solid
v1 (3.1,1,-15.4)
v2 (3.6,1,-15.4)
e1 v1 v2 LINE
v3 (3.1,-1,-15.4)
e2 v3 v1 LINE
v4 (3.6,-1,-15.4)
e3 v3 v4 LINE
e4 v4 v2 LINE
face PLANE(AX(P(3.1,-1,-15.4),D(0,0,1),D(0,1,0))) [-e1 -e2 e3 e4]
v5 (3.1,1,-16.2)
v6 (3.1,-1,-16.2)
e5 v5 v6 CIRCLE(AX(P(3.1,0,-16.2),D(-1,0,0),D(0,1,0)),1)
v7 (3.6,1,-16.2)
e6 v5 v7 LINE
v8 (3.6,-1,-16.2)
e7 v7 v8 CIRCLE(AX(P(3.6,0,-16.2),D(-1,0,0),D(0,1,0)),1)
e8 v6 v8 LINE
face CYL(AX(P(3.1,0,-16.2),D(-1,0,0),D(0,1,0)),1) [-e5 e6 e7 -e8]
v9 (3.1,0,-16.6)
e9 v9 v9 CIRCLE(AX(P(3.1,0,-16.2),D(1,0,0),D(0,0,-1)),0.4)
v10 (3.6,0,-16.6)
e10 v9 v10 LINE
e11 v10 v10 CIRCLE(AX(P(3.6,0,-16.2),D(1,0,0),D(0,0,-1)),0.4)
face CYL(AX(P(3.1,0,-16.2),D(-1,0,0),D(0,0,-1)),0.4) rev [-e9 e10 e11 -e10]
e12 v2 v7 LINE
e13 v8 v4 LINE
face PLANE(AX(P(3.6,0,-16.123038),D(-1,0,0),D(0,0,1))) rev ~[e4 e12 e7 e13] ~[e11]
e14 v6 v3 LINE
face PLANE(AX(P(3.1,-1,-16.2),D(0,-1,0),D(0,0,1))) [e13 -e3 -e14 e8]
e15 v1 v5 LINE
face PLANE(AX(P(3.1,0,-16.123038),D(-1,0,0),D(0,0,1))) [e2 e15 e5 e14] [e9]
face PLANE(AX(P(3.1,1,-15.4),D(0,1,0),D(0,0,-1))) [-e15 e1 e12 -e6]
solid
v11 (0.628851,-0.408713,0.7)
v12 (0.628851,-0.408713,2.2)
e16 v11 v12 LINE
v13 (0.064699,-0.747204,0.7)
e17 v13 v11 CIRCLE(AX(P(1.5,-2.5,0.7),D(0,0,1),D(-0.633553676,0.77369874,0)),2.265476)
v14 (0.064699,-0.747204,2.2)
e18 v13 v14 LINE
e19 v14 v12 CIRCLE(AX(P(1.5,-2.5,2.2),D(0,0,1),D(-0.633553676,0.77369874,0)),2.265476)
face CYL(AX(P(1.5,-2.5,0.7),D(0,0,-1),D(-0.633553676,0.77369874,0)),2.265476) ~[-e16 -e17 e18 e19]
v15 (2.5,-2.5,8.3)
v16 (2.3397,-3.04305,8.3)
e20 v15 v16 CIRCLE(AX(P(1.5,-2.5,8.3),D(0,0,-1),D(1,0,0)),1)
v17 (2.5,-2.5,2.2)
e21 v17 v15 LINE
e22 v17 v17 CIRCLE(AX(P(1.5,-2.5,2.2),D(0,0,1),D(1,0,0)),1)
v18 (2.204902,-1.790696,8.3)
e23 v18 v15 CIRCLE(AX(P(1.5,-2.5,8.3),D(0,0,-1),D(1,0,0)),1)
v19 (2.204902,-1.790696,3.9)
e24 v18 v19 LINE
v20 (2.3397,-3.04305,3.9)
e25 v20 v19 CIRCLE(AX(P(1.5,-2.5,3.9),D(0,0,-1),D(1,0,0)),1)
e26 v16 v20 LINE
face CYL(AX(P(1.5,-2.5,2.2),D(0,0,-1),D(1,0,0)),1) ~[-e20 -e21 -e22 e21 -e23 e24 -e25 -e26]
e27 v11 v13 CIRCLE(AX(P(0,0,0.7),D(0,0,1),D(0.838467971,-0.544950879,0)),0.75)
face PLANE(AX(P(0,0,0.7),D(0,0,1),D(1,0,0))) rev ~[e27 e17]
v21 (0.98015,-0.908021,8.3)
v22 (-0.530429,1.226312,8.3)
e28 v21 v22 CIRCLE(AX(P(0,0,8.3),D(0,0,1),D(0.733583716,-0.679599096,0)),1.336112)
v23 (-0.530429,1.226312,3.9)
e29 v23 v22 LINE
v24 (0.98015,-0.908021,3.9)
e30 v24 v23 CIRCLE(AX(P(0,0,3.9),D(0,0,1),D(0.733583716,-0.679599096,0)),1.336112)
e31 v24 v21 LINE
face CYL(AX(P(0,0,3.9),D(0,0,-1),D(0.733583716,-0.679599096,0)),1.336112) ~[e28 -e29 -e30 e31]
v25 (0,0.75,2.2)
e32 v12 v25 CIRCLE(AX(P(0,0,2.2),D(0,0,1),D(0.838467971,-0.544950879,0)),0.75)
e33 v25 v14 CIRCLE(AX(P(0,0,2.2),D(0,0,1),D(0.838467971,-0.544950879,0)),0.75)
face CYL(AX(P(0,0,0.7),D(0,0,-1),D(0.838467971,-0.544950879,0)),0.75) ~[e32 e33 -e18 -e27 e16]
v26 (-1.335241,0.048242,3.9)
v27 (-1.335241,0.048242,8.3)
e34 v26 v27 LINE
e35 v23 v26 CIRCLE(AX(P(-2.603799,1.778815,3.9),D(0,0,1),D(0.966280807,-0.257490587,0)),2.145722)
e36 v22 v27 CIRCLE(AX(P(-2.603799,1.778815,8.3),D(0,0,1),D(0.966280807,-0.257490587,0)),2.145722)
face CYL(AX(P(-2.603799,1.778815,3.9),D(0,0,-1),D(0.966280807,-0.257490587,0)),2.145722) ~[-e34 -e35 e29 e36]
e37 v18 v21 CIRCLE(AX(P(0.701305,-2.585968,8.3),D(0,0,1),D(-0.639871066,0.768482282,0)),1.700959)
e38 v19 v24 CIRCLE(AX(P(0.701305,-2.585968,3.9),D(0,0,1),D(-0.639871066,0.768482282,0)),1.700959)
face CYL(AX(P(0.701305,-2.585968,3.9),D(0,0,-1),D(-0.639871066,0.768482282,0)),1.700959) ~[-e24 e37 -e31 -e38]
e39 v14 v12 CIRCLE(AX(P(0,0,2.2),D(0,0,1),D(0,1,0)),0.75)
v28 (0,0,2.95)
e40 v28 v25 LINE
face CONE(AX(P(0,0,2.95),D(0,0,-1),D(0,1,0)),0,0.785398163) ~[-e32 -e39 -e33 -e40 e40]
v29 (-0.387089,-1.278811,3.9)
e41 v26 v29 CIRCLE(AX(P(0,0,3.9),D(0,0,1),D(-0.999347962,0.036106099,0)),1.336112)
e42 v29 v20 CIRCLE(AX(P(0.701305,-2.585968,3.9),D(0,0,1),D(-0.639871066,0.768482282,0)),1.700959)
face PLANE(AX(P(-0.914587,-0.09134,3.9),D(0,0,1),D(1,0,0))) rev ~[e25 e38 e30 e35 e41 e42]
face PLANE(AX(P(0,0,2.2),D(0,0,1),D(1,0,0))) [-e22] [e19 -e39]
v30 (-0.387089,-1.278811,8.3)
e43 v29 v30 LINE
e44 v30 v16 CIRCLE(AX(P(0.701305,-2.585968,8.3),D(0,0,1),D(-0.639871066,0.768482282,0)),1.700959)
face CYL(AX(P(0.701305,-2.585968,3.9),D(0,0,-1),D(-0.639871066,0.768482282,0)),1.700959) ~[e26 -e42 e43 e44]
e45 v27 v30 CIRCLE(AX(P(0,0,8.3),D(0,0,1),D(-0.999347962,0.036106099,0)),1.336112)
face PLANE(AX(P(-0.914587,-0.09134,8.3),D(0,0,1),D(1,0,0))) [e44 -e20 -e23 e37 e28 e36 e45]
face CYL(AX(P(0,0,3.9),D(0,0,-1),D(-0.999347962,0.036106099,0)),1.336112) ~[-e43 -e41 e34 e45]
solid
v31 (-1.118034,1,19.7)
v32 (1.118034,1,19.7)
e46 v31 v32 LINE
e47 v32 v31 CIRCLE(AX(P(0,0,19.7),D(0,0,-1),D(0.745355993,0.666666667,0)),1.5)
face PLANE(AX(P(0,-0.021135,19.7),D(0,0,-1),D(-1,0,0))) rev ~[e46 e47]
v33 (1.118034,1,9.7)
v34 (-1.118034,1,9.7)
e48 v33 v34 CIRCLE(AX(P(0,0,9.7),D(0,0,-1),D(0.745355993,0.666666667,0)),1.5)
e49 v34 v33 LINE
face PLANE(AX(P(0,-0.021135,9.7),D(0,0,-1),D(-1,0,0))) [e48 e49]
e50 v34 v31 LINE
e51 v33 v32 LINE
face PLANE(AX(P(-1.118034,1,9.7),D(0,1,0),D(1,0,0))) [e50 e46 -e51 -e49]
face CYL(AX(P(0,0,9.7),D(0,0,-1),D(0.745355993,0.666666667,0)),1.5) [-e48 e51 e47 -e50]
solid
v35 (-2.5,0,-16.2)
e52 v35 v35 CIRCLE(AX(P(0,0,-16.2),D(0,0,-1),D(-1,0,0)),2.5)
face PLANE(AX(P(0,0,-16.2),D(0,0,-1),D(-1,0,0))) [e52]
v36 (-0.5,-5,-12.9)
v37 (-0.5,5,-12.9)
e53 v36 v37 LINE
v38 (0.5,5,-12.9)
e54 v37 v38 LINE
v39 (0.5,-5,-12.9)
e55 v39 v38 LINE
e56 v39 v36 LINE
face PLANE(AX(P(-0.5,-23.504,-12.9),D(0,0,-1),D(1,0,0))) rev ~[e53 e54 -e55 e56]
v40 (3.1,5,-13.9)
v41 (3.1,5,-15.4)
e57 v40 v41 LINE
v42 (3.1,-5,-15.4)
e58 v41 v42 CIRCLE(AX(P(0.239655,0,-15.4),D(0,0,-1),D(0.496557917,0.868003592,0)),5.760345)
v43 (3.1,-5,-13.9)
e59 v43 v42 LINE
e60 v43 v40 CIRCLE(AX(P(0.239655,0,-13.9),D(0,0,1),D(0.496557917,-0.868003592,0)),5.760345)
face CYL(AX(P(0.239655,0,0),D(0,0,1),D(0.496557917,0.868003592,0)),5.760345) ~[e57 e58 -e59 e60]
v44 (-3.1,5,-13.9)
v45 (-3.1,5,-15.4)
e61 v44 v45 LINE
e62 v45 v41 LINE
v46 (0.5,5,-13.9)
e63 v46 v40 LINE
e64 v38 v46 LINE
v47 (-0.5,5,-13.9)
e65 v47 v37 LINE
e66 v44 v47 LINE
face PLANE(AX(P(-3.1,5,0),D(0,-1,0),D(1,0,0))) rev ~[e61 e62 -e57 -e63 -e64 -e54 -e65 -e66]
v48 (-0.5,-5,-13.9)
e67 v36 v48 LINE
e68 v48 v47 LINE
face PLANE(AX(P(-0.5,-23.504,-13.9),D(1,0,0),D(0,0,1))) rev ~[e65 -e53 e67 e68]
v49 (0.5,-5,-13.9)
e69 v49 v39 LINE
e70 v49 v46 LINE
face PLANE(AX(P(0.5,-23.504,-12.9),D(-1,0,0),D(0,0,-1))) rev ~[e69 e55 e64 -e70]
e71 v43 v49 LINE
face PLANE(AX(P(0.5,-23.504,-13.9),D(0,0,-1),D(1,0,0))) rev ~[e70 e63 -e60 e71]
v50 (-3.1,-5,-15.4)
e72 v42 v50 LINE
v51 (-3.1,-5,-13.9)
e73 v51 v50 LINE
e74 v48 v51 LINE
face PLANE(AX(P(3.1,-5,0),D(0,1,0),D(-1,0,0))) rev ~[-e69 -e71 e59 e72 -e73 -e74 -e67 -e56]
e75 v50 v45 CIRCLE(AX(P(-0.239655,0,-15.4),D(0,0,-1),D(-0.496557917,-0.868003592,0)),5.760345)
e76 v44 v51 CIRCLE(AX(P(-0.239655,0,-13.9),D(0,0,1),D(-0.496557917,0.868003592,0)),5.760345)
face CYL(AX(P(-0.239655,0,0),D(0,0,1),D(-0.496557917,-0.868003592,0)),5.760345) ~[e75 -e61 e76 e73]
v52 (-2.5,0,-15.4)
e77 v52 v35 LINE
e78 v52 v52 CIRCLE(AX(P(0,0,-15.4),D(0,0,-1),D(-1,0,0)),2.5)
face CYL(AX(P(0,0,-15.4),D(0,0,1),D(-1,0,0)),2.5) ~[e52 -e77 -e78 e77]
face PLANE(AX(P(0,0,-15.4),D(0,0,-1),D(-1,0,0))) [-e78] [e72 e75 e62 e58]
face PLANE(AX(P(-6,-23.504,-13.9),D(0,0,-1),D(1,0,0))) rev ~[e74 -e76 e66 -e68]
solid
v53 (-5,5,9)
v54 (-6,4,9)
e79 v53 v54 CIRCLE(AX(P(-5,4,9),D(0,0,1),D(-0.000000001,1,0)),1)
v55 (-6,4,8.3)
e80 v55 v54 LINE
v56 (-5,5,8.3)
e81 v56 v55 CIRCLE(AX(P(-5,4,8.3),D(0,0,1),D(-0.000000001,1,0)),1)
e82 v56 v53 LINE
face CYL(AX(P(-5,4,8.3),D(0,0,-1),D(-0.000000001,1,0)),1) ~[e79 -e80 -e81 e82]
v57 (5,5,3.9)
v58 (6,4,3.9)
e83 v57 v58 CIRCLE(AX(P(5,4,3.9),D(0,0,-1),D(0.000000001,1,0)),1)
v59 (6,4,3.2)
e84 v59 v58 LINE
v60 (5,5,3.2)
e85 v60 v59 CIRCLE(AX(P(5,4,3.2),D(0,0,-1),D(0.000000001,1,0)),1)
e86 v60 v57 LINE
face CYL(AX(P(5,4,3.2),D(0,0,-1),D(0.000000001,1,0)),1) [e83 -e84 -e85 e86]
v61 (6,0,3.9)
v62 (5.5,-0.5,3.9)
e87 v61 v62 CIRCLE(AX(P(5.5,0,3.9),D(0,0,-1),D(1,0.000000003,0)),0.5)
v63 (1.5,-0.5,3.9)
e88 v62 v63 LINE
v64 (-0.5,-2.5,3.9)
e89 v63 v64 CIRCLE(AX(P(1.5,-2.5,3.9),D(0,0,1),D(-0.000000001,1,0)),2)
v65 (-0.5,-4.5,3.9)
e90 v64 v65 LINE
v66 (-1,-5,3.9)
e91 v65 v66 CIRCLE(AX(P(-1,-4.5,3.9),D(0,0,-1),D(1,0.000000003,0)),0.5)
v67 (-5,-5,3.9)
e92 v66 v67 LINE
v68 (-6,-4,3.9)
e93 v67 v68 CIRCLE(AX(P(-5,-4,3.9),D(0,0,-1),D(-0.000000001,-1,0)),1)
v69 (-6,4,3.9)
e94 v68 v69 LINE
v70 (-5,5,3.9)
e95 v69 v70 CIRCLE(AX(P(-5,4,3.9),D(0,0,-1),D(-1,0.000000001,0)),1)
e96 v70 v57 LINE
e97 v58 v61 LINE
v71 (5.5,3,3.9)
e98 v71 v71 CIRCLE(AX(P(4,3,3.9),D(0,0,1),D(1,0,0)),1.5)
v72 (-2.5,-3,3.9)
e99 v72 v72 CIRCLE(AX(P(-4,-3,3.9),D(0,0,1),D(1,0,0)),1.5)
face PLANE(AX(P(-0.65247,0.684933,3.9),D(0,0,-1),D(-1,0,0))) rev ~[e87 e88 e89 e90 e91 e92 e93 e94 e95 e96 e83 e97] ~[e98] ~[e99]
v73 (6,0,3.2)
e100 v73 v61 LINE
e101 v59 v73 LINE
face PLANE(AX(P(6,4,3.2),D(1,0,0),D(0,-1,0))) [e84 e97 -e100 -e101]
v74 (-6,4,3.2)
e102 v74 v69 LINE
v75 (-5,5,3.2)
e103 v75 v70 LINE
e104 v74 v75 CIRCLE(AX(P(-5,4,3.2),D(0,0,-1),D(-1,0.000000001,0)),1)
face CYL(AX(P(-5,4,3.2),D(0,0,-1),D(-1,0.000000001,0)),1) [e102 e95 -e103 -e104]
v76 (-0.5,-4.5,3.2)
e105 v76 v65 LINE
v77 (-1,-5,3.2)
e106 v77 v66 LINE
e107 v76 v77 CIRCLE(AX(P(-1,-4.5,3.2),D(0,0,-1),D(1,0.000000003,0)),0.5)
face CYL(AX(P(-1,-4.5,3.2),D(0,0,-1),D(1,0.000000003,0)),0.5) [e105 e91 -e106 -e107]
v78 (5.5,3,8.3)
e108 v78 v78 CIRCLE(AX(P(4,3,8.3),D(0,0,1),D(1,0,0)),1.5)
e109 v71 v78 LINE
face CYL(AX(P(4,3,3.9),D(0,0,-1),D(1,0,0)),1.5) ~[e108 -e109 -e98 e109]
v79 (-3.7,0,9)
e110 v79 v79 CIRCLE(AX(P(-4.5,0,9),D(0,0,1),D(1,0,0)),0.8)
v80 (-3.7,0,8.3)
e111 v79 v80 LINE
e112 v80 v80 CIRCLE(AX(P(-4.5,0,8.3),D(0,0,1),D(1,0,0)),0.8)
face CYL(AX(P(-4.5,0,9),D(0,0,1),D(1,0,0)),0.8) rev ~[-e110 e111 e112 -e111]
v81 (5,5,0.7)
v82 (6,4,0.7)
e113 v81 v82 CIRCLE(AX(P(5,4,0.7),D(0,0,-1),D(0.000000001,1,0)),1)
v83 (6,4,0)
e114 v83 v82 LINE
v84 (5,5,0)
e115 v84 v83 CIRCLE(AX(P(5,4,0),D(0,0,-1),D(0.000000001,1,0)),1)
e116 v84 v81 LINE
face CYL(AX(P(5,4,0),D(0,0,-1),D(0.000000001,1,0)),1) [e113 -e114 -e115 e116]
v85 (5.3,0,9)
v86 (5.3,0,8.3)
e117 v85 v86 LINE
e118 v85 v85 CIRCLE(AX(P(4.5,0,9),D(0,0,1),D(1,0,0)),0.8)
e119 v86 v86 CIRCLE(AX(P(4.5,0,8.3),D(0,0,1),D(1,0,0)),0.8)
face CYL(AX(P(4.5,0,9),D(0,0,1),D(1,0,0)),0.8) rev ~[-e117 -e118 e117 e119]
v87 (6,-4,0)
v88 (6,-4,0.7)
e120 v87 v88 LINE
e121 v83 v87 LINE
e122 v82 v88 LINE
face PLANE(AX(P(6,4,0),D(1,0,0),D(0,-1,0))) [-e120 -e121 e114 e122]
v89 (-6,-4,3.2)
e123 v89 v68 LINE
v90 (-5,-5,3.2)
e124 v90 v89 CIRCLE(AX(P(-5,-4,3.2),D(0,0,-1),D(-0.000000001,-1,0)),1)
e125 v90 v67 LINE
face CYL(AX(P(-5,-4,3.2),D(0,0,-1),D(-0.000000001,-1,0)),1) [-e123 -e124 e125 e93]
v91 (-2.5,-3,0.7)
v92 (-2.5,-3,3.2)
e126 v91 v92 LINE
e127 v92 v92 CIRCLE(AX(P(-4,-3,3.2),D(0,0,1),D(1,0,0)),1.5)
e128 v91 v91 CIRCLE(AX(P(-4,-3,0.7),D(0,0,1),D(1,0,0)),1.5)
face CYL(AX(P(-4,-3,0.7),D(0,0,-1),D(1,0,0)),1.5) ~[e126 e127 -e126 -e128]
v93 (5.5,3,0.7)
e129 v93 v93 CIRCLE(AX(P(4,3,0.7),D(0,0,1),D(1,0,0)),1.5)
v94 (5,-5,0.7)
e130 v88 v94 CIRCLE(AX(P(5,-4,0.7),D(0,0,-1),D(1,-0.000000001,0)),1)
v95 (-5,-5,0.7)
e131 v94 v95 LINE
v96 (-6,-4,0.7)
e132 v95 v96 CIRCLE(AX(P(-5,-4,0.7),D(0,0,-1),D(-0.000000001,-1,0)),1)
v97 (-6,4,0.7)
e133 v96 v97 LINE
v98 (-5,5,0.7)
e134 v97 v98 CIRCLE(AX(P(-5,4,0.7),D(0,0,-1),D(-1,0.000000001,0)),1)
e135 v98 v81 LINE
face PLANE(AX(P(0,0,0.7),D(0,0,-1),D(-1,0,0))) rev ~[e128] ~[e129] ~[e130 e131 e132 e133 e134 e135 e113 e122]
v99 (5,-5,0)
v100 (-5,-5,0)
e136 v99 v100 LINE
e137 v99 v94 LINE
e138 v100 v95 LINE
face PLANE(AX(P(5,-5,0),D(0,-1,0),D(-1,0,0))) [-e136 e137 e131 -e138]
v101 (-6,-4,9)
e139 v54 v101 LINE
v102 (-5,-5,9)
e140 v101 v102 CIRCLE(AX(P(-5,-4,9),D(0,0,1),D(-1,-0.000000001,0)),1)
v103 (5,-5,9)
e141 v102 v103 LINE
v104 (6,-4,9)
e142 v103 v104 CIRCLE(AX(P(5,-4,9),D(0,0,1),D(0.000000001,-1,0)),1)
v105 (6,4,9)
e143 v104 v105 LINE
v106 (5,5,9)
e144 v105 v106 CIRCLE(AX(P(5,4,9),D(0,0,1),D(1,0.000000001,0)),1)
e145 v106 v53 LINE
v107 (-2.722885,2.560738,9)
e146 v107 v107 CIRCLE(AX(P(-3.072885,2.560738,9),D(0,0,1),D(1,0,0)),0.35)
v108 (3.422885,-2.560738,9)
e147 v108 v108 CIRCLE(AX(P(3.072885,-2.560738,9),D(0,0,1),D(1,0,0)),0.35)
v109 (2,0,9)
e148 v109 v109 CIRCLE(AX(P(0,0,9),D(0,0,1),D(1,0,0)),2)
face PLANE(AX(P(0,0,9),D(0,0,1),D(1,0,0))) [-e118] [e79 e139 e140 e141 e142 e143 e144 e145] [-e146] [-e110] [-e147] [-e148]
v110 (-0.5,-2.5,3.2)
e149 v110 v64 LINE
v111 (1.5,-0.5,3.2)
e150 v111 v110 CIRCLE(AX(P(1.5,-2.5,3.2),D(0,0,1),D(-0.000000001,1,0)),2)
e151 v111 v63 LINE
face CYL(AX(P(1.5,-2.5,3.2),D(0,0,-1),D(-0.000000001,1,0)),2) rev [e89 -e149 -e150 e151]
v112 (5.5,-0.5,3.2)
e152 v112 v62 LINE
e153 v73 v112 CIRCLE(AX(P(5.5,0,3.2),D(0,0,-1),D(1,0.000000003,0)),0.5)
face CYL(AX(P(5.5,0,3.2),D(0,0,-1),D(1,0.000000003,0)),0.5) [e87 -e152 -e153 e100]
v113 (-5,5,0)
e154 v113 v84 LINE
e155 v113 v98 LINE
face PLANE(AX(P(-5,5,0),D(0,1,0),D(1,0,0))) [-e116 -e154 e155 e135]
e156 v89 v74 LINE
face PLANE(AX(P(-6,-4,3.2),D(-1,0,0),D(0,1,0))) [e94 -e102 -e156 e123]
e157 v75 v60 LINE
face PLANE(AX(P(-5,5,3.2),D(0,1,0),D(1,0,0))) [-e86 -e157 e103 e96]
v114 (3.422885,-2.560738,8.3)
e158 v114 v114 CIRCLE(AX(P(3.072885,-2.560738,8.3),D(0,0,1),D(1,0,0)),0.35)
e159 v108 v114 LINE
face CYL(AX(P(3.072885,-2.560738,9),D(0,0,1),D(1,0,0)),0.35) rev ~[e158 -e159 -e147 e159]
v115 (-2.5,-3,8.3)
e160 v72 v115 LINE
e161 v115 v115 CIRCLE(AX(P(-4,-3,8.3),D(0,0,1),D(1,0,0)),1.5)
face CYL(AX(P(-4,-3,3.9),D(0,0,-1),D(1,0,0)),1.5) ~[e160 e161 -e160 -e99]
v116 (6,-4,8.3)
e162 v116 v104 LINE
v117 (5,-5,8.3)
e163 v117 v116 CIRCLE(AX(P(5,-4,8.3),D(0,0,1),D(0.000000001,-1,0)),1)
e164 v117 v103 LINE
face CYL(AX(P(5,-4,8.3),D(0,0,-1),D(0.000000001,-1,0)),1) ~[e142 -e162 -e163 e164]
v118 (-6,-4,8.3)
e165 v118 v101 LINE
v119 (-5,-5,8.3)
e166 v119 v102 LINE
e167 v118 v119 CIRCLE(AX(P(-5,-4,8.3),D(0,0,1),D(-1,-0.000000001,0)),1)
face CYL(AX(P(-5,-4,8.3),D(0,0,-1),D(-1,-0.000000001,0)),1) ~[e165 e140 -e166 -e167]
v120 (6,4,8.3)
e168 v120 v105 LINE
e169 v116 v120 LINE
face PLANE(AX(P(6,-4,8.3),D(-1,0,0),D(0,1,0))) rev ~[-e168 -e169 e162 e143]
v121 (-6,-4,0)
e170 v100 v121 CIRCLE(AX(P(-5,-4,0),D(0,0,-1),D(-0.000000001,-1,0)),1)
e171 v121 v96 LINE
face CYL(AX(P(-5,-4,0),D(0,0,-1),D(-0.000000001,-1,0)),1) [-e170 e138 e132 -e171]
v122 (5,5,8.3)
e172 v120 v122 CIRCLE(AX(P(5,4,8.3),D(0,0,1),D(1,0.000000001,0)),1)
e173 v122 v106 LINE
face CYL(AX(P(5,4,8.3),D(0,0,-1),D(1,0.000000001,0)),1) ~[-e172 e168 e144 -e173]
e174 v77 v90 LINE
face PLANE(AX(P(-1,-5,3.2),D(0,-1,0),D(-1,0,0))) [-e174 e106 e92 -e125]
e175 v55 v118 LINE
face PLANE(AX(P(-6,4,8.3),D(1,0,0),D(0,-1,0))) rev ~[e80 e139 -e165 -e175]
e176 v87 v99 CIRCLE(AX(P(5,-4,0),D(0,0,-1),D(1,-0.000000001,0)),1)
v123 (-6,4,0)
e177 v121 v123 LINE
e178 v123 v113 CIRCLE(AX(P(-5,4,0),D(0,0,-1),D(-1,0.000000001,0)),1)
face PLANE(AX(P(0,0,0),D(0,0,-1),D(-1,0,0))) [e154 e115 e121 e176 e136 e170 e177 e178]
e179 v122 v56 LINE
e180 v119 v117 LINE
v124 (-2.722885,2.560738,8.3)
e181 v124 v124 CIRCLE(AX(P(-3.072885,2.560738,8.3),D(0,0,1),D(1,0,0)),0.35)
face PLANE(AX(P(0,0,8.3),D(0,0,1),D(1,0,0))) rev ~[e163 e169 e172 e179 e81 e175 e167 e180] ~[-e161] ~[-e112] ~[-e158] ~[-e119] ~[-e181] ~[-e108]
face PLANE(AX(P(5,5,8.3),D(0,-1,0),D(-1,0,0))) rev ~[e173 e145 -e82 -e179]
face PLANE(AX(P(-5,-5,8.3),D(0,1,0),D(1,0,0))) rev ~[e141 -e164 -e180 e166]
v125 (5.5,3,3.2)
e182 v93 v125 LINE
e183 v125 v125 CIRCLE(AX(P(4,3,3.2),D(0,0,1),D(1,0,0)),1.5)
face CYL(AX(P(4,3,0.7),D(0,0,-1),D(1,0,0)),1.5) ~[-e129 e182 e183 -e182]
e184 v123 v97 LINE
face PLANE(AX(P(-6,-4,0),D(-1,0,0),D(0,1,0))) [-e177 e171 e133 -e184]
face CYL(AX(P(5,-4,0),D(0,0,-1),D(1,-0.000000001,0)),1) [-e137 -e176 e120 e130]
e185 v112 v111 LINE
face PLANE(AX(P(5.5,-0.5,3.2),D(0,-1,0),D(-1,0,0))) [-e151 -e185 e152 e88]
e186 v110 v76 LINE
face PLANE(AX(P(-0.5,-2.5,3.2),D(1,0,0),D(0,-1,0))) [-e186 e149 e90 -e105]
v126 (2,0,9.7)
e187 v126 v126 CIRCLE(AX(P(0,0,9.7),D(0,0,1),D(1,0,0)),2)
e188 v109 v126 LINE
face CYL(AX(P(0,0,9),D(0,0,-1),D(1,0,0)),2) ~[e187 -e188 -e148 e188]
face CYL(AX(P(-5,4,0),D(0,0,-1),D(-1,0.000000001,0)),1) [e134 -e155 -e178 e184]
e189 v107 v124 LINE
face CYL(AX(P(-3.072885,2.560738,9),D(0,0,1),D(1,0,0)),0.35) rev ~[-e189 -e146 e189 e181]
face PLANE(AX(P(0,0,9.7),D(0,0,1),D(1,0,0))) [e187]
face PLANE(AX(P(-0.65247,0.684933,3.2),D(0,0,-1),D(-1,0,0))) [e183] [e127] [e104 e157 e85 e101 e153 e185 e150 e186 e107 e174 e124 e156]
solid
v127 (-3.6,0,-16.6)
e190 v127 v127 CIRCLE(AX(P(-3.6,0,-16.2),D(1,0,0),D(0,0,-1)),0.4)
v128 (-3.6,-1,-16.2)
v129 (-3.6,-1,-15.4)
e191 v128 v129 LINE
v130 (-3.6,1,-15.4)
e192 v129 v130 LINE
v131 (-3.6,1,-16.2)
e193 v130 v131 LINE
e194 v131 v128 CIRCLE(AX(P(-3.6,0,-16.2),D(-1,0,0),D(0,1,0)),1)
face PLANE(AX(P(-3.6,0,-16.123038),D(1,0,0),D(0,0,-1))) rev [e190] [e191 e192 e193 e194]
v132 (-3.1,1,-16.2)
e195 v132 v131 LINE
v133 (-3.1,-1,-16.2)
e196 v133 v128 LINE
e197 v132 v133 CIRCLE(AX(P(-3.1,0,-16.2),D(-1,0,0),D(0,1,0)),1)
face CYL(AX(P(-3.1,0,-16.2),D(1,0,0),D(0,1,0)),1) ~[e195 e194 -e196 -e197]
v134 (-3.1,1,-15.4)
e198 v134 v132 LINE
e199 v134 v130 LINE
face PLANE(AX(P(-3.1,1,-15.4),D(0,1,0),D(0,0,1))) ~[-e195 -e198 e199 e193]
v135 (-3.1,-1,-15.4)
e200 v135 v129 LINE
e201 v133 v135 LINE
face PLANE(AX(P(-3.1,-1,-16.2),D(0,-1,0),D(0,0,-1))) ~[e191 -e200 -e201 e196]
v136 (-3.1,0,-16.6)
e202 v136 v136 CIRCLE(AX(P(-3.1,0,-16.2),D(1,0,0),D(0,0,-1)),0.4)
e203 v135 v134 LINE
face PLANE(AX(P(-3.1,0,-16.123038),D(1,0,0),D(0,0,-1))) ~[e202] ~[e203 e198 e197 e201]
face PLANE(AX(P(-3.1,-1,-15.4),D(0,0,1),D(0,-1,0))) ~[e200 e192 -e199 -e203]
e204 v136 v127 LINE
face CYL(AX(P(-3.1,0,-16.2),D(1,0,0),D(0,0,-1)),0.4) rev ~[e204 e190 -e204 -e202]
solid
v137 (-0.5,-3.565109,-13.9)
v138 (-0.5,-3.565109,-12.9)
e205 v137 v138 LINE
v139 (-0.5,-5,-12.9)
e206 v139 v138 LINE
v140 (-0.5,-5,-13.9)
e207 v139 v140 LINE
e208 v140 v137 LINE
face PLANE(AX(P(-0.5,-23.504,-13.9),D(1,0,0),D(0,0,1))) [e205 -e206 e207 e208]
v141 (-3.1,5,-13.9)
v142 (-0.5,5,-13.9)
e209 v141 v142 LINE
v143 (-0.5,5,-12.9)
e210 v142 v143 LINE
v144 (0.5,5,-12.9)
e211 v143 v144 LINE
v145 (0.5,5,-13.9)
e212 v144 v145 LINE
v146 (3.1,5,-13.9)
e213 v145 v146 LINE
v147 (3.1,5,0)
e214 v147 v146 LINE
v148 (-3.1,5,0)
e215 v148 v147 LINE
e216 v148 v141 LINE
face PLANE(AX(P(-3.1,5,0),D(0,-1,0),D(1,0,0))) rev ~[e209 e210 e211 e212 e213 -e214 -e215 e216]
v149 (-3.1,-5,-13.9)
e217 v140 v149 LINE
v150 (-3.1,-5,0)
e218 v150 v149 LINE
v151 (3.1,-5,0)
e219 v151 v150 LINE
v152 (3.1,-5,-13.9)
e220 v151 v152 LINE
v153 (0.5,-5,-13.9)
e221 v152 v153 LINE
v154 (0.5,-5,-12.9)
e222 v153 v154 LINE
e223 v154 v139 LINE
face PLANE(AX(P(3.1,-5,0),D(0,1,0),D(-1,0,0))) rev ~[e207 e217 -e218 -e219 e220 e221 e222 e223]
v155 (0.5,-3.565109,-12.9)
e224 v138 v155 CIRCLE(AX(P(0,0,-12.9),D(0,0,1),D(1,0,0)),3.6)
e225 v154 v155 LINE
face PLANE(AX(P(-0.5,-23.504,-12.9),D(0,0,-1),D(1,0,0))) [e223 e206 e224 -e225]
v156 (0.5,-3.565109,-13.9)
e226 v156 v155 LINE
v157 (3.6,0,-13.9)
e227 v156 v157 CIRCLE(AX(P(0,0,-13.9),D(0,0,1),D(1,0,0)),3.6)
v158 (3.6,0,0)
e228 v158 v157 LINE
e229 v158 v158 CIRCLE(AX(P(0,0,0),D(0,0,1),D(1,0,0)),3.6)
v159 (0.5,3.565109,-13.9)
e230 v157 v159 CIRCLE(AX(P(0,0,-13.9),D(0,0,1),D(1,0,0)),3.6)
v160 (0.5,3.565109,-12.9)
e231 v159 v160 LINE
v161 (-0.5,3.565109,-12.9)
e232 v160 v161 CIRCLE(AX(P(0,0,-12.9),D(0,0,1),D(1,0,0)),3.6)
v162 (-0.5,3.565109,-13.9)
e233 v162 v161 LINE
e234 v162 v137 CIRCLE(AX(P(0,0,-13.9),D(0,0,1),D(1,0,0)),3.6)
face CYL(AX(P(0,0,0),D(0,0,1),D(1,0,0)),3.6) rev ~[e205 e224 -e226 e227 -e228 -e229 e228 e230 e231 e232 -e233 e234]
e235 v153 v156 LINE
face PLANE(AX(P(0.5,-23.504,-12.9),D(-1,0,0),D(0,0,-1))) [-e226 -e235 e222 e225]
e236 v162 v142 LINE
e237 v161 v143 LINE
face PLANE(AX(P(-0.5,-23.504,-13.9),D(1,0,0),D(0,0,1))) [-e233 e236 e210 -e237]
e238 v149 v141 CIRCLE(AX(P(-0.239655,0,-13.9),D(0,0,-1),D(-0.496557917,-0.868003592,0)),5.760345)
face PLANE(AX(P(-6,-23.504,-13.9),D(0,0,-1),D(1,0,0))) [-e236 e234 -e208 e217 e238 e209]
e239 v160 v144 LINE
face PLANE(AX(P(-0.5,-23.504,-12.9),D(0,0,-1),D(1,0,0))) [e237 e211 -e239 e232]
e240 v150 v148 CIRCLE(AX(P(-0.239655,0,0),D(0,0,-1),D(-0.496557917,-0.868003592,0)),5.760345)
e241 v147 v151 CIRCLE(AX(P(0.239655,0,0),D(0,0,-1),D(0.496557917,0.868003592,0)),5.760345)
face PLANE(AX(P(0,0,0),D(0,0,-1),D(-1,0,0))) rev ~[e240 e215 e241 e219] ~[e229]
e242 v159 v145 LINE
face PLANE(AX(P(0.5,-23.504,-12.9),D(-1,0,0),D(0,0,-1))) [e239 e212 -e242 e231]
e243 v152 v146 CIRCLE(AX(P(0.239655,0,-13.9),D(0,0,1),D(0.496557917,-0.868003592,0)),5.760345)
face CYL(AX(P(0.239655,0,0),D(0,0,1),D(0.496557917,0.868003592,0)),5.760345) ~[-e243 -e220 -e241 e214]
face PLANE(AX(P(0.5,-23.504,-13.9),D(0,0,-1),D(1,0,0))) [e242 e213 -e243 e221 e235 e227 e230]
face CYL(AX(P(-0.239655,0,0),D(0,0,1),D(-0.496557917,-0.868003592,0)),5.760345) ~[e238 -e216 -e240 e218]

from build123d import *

# Parameters (mm, degrees)
P_IDAT_VYSUNUT_M1_DEPTH   = 15.4
SKICA2_R                  = 2.5
P_IDAT_VYSUNUT_M2_DEPTH   = 0.8
ROZD_LIT1_SURFACE_1_BACK  = 23.504
ROZD_LIT1_SURFACE_1_DEPTH = 47.008
ROZD_LIT1_SURFACE_2_BACK  = 23.504
ROZD_LIT1_SURFACE_2_DEPTH = 47.008
P_IDAT_VYSUNUT_M4_DEPTH   = 0.7
SKICA8_R                  = 1.5
P_IDAT_VYSUNUT_M6_DEPTH   = 2.5
P_IDAT_VYSUNUT_M7_DEPTH   = 0.7
SKICA10_R                 = 1.5
P_IDAT_VYSUNUT_M8_DEPTH   = 4.4
P_IDAT_VYSUNUT_M9_DEPTH   = 0.7
SKICA12_R                 = 2
P_IDAT_VYSUNUT_M10_DEPTH  = 0.7
P_IDAT_VYSUNUT_M11_DEPTH  = 10
SKICA14_R                 = 0.8
ODEBRAT_VYSUNUT_M1_DEPTH  = 0.7
SKICA15_R                 = 0.35
ODEBRAT_VYSUNUT_M2_DEPTH  = 0.7
SKICA16_R                 = 0.4
P_IDAT_VYSUNUT_M12_DEPTH  = 0.5
SKICA17_R                 = 0.75
SKICA17_R_2               = 2.265475947
P_IDAT_VYSUNUT_M13_DEPTH  = 1.5
P_IDAT_VYSUNUT_M15_REACH  = 22.913
SKICA18_R                 = 1
P_IDAT_VYSUNUT_M16_DEPTH  = 4.4
SKICA20_R                 = 3.6
ODEBRAT_VYSUNUT_M3_DEPTH  = 22.191743675


with BuildPart() as part:
    # Skica1 → Přidat vysunutím1 (new body)
    with BuildSketch(Plane.XY):
        with BuildLine():
            Line((-3.1, 5), (3.1, 5))
            ThreePointArc((3.1, 5), (6, 0), (3.1, -5))
            Line((3.1, -5), (-3.1, -5))
            ThreePointArc((-3.1, -5), (-6, 0), (-3.1, 5))
        make_face()
    extrude(amount=-P_IDAT_VYSUNUT_M1_DEPTH)

    # Skica2 → Přidat vysunutím2 (add)
    with BuildSketch(Plane(origin=(0, 0, -15.4), x_dir=(-1, 0, 0), z_dir=(0, 0, -1))):
        Circle(SKICA2_R)
    extrude(amount=P_IDAT_VYSUNUT_M2_DEPTH)


with BuildPart() as body_2:
    # Rozdělit1: the piece behind the surface
    add(part.part)
    # Rozdělit1 surface: a surface, the sketch's curves swept straight by 47.008 mm
    with BuildLine(Plane(origin=(0, 0, 0), x_dir=(1, 0, 0), z_dir=(0, 1, 0)).offset(-ROZD_LIT1_SURFACE_1_BACK), mode=Mode.PRIVATE) as rozd_lit1_surface_1_path:
        Line((-6, 13.9), (-0.5, 13.9))
        Line((-0.5, 13.9), (-0.5, 12.9))
        Line((-0.5, 12.9), (0.5, 12.9))
        Line((0.5, 12.9), (0.5, 13.9))
        Line((0.5, 13.9), (6, 13.9))
    rozd_lit1_surface_1 = Shell.extrude(rozd_lit1_surface_1_path.wire(), (0 * ROZD_LIT1_SURFACE_1_DEPTH, 1 * ROZD_LIT1_SURFACE_1_DEPTH, 0 * ROZD_LIT1_SURFACE_1_DEPTH))
    split(bisect_by=rozd_lit1_surface_1, keep=Keep.BOTTOM)

    # Skica20 → Odebrat vysunutím3 (cut, through all)
    with BuildSketch(Plane.XY):
        Circle(SKICA20_R)
    extrude(amount=-ODEBRAT_VYSUNUT_M3_DEPTH, mode=Mode.SUBTRACT)


with BuildPart() as part_1:
    add(part.part)

    # Rozdělit1: split by a surface, the side it looks to stays
    # Rozdělit1 surface: a surface, the sketch's curves swept straight by 47.008 mm
    with BuildLine(Plane(origin=(0, 0, 0), x_dir=(1, 0, 0), z_dir=(0, 1, 0)).offset(-ROZD_LIT1_SURFACE_2_BACK), mode=Mode.PRIVATE) as rozd_lit1_surface_2_path:
        Line((-6, 13.9), (-0.5, 13.9))
        Line((-0.5, 13.9), (-0.5, 12.9))
        Line((-0.5, 12.9), (0.5, 12.9))
        Line((0.5, 12.9), (0.5, 13.9))
        Line((0.5, 13.9), (6, 13.9))
    rozd_lit1_surface_2 = Shell.extrude(rozd_lit1_surface_2_path.wire(), (0 * ROZD_LIT1_SURFACE_2_DEPTH, 1 * ROZD_LIT1_SURFACE_2_DEPTH, 0 * ROZD_LIT1_SURFACE_2_DEPTH))
    split(bisect_by=rozd_lit1_surface_2, keep=Keep.TOP)


with BuildPart() as body_3:
    # Skica6 → Přidat vysunutím4 (new body)
    with BuildSketch(Plane.XY):
        with BuildLine():
            Line((-5, 5), (5, 5))
            ThreePointArc((5, 5), (5.707106781, 4.707106781), (6, 4))
            Line((6, 4), (6, -4))
            ThreePointArc((6, -4), (5.707106781, -4.707106781), (5, -5))
            Line((5, -5), (-5, -5))
            ThreePointArc((-5, -5), (-5.707106781, -4.707106781), (-6, -4))
            Line((-6, -4), (-6, 4))
            ThreePointArc((-6, 4), (-5.707106781, 4.707106781), (-5, 5))
        make_face()
    extrude(amount=P_IDAT_VYSUNUT_M4_DEPTH)

    # Skica8 → Přidat vysunutím6 (add)
    with BuildSketch(Plane.XY.offset(0.7)):
        with Locations((4, 3)):
            Circle(SKICA8_R)
        with Locations((-4, -3)):
            Circle(SKICA8_R)
    extrude(amount=P_IDAT_VYSUNUT_M6_DEPTH)

    # Skica9 → Přidat vysunutím7 (add)
    with BuildSketch(Plane.XY.offset(3.2)):
        with BuildLine():
            Line((5.5, -0.5), (1.5, -0.5))
            ThreePointArc((1.5, -0.5), (0.085786438, -1.085786438), (-0.5, -2.5))
            Line((-0.5, -2.5), (-0.5, -4.5))
            ThreePointArc((-0.5, -4.5), (-0.646446609, -4.853553391), (-1, -5))
            Line((-1, -5), (-5, -5))
            ThreePointArc((-5, -5), (-5.707106781, -4.707106781), (-6, -4))
            Line((-6, -4), (-6, 4))
            ThreePointArc((-6, 4), (-5.707106781, 4.707106781), (-5, 5))
            Line((-5, 5), (5, 5))
            ThreePointArc((5, 5), (5.707106781, 4.707106781), (6, 4))
            Line((6, 4), (6, 0))
            ThreePointArc((6, 0), (5.853553391, -0.353553391), (5.5, -0.5))
        make_face()
    extrude(amount=P_IDAT_VYSUNUT_M7_DEPTH)

    # Skica10 → Přidat vysunutím8 (add)
    with BuildSketch(Plane.XY.offset(3.9)):
        with Locations((-4, -3)):
            Circle(SKICA10_R)
        with Locations((4, 3)):
            Circle(SKICA10_R)
    extrude(amount=P_IDAT_VYSUNUT_M8_DEPTH)

    # Skica11 → Přidat vysunutím9 (add)
    with BuildSketch(Plane.XY.offset(8.3)):
        with BuildLine():
            Line((6, -4), (6, 4))
            ThreePointArc((6, 4), (5.707106781, 4.707106781), (5, 5))
            Line((5, 5), (-5, 5))
            ThreePointArc((-5, 5), (-5.707106781, 4.707106781), (-6, 4))
            Line((-6, 4), (-6, -4))
            ThreePointArc((-6, -4), (-5.707106781, -4.707106781), (-5, -5))
            Line((-5, -5), (5, -5))
            ThreePointArc((5, -5), (5.707106781, -4.707106781), (6, -4))
        make_face()
    extrude(amount=P_IDAT_VYSUNUT_M9_DEPTH)

    # Skica12 → Přidat vysunutím10 (add)
    with BuildSketch(Plane.XY.offset(9)):
        Circle(SKICA12_R)
    extrude(amount=P_IDAT_VYSUNUT_M10_DEPTH)

    # Skica14 → Odebrat vysunutím1 (cut)
    with BuildSketch(Plane.XY.offset(9)):
        with Locations((-4.5, 0)):
            Circle(SKICA14_R)
        with Locations((4.5, 0)):
            Circle(SKICA14_R)
    extrude(amount=-ODEBRAT_VYSUNUT_M1_DEPTH, mode=Mode.SUBTRACT)

    # Skica15 → Odebrat vysunutím2 (cut)
    with BuildSketch(Plane.XY.offset(9)):
        with Locations((-3.072885118, 2.560737599)):
            Circle(SKICA15_R)
        with Locations((3.072885118, -2.560737599)):
            Circle(SKICA15_R)
    extrude(amount=-ODEBRAT_VYSUNUT_M2_DEPTH, mode=Mode.SUBTRACT)


with BuildPart() as body_4:
    # Skica13 → Přidat vysunutím11 (new body)
    with BuildSketch(Plane.XY.offset(9.7)):
        with BuildLine():
            Line((-1.118033989, 1), (1.118033989, 1))
            ThreePointArc((1.118033989, 1), (0, -1.5), (-1.118033989, 1))
        make_face()
    extrude(amount=P_IDAT_VYSUNUT_M11_DEPTH)


with BuildPart() as body_5:
    # Skica16 → Přidat vysunutím12 (new body)
    with BuildSketch(Plane(origin=(3.1, 0, 0), x_dir=(0, 0, -1), z_dir=(1, 0, 0))):
        with BuildLine():
            Line((15.4, 1), (16.2, 1))
            ThreePointArc((16.2, 1), (17.2, 0), (16.2, -1))
            Line((16.2, -1), (15.4, -1))
            Line((15.4, -1), (15.4, 1))
        make_face()
        with Locations((16.2, 0)):
            Circle(SKICA16_R, mode=Mode.SUBTRACT)
    extrude(amount=P_IDAT_VYSUNUT_M12_DEPTH)


with BuildPart() as body_6:
    # Zrcadlit2: mirrored copy
    add(body_5.part.mirror(Plane(origin=(0, 0, 0), x_dir=(0, 0, 1), z_dir=(1, 0, 0))))


with BuildPart() as body_7:
    # Skica17 → Přidat vysunutím13 (new body)
    with BuildSketch(Plane.XY.offset(0.7)):
        Circle(SKICA17_R)
        with Locations((1.5, -2.5)):
            Circle(SKICA17_R_2)
    extrude(amount=P_IDAT_VYSUNUT_M13_DEPTH)


    # Skica18 → Přidat vysunutím15 (add, up to next)
    with BuildSketch(Plane.XY.offset(2.2), mode=Mode.PRIVATE) as p_idat_vysunut_m15_sk1:
        with Locations((1.5, -2.5)):
            Circle(SKICA18_R)
    p_idat_vysunut_m15_tool1 = extrude(p_idat_vysunut_m15_sk1.sketch, amount=P_IDAT_VYSUNUT_M15_REACH, mode=Mode.PRIVATE) - body_3.part
    add(p_idat_vysunut_m15_tool1.solids().sort_by_distance((1.5, -2.5, 2.2))[0])

    # Skica19 → Přidat vysunutím16 (add)
    with BuildSketch(Plane.XY.offset(3.9)):
        with BuildLine():
            ThreePointArc((-0.530429014, 1.226311832), (-4.375545565, 2.989203675), (-1.335240944, 0.0482418))
            ThreePointArc((-1.335240944, 0.0482418), (-1.087139563, -0.776738835), (-0.387088986, -1.278811075))
            ThreePointArc((-0.387088986, -1.278811075), (1.14651795, -4.227627949), (0.980150108, -0.908020603))
            ThreePointArc((0.980150108, -0.908020603), (1.090598918, 0.771874114), (-0.530429014, 1.226311832))
        make_face()
    extrude(amount=P_IDAT_VYSUNUT_M16_DEPTH)

    # Skica21 → Rotovat1 (revolve)
    with BuildSketch(Plane(origin=(0, 0, 0), x_dir=(0, 0, -1), z_dir=(1, 0, 0))):
        Polygon((-2.95, 0), (-2.2, 0.75), (-2.2, 0), align=None)
    revolve(axis=Axis((0, 0, 0), (0, 0, 1)))


solid = Compound([body_2.part, part_1.part, body_3.part, body_4.part, body_5.part, body_6.part, body_7.part])
